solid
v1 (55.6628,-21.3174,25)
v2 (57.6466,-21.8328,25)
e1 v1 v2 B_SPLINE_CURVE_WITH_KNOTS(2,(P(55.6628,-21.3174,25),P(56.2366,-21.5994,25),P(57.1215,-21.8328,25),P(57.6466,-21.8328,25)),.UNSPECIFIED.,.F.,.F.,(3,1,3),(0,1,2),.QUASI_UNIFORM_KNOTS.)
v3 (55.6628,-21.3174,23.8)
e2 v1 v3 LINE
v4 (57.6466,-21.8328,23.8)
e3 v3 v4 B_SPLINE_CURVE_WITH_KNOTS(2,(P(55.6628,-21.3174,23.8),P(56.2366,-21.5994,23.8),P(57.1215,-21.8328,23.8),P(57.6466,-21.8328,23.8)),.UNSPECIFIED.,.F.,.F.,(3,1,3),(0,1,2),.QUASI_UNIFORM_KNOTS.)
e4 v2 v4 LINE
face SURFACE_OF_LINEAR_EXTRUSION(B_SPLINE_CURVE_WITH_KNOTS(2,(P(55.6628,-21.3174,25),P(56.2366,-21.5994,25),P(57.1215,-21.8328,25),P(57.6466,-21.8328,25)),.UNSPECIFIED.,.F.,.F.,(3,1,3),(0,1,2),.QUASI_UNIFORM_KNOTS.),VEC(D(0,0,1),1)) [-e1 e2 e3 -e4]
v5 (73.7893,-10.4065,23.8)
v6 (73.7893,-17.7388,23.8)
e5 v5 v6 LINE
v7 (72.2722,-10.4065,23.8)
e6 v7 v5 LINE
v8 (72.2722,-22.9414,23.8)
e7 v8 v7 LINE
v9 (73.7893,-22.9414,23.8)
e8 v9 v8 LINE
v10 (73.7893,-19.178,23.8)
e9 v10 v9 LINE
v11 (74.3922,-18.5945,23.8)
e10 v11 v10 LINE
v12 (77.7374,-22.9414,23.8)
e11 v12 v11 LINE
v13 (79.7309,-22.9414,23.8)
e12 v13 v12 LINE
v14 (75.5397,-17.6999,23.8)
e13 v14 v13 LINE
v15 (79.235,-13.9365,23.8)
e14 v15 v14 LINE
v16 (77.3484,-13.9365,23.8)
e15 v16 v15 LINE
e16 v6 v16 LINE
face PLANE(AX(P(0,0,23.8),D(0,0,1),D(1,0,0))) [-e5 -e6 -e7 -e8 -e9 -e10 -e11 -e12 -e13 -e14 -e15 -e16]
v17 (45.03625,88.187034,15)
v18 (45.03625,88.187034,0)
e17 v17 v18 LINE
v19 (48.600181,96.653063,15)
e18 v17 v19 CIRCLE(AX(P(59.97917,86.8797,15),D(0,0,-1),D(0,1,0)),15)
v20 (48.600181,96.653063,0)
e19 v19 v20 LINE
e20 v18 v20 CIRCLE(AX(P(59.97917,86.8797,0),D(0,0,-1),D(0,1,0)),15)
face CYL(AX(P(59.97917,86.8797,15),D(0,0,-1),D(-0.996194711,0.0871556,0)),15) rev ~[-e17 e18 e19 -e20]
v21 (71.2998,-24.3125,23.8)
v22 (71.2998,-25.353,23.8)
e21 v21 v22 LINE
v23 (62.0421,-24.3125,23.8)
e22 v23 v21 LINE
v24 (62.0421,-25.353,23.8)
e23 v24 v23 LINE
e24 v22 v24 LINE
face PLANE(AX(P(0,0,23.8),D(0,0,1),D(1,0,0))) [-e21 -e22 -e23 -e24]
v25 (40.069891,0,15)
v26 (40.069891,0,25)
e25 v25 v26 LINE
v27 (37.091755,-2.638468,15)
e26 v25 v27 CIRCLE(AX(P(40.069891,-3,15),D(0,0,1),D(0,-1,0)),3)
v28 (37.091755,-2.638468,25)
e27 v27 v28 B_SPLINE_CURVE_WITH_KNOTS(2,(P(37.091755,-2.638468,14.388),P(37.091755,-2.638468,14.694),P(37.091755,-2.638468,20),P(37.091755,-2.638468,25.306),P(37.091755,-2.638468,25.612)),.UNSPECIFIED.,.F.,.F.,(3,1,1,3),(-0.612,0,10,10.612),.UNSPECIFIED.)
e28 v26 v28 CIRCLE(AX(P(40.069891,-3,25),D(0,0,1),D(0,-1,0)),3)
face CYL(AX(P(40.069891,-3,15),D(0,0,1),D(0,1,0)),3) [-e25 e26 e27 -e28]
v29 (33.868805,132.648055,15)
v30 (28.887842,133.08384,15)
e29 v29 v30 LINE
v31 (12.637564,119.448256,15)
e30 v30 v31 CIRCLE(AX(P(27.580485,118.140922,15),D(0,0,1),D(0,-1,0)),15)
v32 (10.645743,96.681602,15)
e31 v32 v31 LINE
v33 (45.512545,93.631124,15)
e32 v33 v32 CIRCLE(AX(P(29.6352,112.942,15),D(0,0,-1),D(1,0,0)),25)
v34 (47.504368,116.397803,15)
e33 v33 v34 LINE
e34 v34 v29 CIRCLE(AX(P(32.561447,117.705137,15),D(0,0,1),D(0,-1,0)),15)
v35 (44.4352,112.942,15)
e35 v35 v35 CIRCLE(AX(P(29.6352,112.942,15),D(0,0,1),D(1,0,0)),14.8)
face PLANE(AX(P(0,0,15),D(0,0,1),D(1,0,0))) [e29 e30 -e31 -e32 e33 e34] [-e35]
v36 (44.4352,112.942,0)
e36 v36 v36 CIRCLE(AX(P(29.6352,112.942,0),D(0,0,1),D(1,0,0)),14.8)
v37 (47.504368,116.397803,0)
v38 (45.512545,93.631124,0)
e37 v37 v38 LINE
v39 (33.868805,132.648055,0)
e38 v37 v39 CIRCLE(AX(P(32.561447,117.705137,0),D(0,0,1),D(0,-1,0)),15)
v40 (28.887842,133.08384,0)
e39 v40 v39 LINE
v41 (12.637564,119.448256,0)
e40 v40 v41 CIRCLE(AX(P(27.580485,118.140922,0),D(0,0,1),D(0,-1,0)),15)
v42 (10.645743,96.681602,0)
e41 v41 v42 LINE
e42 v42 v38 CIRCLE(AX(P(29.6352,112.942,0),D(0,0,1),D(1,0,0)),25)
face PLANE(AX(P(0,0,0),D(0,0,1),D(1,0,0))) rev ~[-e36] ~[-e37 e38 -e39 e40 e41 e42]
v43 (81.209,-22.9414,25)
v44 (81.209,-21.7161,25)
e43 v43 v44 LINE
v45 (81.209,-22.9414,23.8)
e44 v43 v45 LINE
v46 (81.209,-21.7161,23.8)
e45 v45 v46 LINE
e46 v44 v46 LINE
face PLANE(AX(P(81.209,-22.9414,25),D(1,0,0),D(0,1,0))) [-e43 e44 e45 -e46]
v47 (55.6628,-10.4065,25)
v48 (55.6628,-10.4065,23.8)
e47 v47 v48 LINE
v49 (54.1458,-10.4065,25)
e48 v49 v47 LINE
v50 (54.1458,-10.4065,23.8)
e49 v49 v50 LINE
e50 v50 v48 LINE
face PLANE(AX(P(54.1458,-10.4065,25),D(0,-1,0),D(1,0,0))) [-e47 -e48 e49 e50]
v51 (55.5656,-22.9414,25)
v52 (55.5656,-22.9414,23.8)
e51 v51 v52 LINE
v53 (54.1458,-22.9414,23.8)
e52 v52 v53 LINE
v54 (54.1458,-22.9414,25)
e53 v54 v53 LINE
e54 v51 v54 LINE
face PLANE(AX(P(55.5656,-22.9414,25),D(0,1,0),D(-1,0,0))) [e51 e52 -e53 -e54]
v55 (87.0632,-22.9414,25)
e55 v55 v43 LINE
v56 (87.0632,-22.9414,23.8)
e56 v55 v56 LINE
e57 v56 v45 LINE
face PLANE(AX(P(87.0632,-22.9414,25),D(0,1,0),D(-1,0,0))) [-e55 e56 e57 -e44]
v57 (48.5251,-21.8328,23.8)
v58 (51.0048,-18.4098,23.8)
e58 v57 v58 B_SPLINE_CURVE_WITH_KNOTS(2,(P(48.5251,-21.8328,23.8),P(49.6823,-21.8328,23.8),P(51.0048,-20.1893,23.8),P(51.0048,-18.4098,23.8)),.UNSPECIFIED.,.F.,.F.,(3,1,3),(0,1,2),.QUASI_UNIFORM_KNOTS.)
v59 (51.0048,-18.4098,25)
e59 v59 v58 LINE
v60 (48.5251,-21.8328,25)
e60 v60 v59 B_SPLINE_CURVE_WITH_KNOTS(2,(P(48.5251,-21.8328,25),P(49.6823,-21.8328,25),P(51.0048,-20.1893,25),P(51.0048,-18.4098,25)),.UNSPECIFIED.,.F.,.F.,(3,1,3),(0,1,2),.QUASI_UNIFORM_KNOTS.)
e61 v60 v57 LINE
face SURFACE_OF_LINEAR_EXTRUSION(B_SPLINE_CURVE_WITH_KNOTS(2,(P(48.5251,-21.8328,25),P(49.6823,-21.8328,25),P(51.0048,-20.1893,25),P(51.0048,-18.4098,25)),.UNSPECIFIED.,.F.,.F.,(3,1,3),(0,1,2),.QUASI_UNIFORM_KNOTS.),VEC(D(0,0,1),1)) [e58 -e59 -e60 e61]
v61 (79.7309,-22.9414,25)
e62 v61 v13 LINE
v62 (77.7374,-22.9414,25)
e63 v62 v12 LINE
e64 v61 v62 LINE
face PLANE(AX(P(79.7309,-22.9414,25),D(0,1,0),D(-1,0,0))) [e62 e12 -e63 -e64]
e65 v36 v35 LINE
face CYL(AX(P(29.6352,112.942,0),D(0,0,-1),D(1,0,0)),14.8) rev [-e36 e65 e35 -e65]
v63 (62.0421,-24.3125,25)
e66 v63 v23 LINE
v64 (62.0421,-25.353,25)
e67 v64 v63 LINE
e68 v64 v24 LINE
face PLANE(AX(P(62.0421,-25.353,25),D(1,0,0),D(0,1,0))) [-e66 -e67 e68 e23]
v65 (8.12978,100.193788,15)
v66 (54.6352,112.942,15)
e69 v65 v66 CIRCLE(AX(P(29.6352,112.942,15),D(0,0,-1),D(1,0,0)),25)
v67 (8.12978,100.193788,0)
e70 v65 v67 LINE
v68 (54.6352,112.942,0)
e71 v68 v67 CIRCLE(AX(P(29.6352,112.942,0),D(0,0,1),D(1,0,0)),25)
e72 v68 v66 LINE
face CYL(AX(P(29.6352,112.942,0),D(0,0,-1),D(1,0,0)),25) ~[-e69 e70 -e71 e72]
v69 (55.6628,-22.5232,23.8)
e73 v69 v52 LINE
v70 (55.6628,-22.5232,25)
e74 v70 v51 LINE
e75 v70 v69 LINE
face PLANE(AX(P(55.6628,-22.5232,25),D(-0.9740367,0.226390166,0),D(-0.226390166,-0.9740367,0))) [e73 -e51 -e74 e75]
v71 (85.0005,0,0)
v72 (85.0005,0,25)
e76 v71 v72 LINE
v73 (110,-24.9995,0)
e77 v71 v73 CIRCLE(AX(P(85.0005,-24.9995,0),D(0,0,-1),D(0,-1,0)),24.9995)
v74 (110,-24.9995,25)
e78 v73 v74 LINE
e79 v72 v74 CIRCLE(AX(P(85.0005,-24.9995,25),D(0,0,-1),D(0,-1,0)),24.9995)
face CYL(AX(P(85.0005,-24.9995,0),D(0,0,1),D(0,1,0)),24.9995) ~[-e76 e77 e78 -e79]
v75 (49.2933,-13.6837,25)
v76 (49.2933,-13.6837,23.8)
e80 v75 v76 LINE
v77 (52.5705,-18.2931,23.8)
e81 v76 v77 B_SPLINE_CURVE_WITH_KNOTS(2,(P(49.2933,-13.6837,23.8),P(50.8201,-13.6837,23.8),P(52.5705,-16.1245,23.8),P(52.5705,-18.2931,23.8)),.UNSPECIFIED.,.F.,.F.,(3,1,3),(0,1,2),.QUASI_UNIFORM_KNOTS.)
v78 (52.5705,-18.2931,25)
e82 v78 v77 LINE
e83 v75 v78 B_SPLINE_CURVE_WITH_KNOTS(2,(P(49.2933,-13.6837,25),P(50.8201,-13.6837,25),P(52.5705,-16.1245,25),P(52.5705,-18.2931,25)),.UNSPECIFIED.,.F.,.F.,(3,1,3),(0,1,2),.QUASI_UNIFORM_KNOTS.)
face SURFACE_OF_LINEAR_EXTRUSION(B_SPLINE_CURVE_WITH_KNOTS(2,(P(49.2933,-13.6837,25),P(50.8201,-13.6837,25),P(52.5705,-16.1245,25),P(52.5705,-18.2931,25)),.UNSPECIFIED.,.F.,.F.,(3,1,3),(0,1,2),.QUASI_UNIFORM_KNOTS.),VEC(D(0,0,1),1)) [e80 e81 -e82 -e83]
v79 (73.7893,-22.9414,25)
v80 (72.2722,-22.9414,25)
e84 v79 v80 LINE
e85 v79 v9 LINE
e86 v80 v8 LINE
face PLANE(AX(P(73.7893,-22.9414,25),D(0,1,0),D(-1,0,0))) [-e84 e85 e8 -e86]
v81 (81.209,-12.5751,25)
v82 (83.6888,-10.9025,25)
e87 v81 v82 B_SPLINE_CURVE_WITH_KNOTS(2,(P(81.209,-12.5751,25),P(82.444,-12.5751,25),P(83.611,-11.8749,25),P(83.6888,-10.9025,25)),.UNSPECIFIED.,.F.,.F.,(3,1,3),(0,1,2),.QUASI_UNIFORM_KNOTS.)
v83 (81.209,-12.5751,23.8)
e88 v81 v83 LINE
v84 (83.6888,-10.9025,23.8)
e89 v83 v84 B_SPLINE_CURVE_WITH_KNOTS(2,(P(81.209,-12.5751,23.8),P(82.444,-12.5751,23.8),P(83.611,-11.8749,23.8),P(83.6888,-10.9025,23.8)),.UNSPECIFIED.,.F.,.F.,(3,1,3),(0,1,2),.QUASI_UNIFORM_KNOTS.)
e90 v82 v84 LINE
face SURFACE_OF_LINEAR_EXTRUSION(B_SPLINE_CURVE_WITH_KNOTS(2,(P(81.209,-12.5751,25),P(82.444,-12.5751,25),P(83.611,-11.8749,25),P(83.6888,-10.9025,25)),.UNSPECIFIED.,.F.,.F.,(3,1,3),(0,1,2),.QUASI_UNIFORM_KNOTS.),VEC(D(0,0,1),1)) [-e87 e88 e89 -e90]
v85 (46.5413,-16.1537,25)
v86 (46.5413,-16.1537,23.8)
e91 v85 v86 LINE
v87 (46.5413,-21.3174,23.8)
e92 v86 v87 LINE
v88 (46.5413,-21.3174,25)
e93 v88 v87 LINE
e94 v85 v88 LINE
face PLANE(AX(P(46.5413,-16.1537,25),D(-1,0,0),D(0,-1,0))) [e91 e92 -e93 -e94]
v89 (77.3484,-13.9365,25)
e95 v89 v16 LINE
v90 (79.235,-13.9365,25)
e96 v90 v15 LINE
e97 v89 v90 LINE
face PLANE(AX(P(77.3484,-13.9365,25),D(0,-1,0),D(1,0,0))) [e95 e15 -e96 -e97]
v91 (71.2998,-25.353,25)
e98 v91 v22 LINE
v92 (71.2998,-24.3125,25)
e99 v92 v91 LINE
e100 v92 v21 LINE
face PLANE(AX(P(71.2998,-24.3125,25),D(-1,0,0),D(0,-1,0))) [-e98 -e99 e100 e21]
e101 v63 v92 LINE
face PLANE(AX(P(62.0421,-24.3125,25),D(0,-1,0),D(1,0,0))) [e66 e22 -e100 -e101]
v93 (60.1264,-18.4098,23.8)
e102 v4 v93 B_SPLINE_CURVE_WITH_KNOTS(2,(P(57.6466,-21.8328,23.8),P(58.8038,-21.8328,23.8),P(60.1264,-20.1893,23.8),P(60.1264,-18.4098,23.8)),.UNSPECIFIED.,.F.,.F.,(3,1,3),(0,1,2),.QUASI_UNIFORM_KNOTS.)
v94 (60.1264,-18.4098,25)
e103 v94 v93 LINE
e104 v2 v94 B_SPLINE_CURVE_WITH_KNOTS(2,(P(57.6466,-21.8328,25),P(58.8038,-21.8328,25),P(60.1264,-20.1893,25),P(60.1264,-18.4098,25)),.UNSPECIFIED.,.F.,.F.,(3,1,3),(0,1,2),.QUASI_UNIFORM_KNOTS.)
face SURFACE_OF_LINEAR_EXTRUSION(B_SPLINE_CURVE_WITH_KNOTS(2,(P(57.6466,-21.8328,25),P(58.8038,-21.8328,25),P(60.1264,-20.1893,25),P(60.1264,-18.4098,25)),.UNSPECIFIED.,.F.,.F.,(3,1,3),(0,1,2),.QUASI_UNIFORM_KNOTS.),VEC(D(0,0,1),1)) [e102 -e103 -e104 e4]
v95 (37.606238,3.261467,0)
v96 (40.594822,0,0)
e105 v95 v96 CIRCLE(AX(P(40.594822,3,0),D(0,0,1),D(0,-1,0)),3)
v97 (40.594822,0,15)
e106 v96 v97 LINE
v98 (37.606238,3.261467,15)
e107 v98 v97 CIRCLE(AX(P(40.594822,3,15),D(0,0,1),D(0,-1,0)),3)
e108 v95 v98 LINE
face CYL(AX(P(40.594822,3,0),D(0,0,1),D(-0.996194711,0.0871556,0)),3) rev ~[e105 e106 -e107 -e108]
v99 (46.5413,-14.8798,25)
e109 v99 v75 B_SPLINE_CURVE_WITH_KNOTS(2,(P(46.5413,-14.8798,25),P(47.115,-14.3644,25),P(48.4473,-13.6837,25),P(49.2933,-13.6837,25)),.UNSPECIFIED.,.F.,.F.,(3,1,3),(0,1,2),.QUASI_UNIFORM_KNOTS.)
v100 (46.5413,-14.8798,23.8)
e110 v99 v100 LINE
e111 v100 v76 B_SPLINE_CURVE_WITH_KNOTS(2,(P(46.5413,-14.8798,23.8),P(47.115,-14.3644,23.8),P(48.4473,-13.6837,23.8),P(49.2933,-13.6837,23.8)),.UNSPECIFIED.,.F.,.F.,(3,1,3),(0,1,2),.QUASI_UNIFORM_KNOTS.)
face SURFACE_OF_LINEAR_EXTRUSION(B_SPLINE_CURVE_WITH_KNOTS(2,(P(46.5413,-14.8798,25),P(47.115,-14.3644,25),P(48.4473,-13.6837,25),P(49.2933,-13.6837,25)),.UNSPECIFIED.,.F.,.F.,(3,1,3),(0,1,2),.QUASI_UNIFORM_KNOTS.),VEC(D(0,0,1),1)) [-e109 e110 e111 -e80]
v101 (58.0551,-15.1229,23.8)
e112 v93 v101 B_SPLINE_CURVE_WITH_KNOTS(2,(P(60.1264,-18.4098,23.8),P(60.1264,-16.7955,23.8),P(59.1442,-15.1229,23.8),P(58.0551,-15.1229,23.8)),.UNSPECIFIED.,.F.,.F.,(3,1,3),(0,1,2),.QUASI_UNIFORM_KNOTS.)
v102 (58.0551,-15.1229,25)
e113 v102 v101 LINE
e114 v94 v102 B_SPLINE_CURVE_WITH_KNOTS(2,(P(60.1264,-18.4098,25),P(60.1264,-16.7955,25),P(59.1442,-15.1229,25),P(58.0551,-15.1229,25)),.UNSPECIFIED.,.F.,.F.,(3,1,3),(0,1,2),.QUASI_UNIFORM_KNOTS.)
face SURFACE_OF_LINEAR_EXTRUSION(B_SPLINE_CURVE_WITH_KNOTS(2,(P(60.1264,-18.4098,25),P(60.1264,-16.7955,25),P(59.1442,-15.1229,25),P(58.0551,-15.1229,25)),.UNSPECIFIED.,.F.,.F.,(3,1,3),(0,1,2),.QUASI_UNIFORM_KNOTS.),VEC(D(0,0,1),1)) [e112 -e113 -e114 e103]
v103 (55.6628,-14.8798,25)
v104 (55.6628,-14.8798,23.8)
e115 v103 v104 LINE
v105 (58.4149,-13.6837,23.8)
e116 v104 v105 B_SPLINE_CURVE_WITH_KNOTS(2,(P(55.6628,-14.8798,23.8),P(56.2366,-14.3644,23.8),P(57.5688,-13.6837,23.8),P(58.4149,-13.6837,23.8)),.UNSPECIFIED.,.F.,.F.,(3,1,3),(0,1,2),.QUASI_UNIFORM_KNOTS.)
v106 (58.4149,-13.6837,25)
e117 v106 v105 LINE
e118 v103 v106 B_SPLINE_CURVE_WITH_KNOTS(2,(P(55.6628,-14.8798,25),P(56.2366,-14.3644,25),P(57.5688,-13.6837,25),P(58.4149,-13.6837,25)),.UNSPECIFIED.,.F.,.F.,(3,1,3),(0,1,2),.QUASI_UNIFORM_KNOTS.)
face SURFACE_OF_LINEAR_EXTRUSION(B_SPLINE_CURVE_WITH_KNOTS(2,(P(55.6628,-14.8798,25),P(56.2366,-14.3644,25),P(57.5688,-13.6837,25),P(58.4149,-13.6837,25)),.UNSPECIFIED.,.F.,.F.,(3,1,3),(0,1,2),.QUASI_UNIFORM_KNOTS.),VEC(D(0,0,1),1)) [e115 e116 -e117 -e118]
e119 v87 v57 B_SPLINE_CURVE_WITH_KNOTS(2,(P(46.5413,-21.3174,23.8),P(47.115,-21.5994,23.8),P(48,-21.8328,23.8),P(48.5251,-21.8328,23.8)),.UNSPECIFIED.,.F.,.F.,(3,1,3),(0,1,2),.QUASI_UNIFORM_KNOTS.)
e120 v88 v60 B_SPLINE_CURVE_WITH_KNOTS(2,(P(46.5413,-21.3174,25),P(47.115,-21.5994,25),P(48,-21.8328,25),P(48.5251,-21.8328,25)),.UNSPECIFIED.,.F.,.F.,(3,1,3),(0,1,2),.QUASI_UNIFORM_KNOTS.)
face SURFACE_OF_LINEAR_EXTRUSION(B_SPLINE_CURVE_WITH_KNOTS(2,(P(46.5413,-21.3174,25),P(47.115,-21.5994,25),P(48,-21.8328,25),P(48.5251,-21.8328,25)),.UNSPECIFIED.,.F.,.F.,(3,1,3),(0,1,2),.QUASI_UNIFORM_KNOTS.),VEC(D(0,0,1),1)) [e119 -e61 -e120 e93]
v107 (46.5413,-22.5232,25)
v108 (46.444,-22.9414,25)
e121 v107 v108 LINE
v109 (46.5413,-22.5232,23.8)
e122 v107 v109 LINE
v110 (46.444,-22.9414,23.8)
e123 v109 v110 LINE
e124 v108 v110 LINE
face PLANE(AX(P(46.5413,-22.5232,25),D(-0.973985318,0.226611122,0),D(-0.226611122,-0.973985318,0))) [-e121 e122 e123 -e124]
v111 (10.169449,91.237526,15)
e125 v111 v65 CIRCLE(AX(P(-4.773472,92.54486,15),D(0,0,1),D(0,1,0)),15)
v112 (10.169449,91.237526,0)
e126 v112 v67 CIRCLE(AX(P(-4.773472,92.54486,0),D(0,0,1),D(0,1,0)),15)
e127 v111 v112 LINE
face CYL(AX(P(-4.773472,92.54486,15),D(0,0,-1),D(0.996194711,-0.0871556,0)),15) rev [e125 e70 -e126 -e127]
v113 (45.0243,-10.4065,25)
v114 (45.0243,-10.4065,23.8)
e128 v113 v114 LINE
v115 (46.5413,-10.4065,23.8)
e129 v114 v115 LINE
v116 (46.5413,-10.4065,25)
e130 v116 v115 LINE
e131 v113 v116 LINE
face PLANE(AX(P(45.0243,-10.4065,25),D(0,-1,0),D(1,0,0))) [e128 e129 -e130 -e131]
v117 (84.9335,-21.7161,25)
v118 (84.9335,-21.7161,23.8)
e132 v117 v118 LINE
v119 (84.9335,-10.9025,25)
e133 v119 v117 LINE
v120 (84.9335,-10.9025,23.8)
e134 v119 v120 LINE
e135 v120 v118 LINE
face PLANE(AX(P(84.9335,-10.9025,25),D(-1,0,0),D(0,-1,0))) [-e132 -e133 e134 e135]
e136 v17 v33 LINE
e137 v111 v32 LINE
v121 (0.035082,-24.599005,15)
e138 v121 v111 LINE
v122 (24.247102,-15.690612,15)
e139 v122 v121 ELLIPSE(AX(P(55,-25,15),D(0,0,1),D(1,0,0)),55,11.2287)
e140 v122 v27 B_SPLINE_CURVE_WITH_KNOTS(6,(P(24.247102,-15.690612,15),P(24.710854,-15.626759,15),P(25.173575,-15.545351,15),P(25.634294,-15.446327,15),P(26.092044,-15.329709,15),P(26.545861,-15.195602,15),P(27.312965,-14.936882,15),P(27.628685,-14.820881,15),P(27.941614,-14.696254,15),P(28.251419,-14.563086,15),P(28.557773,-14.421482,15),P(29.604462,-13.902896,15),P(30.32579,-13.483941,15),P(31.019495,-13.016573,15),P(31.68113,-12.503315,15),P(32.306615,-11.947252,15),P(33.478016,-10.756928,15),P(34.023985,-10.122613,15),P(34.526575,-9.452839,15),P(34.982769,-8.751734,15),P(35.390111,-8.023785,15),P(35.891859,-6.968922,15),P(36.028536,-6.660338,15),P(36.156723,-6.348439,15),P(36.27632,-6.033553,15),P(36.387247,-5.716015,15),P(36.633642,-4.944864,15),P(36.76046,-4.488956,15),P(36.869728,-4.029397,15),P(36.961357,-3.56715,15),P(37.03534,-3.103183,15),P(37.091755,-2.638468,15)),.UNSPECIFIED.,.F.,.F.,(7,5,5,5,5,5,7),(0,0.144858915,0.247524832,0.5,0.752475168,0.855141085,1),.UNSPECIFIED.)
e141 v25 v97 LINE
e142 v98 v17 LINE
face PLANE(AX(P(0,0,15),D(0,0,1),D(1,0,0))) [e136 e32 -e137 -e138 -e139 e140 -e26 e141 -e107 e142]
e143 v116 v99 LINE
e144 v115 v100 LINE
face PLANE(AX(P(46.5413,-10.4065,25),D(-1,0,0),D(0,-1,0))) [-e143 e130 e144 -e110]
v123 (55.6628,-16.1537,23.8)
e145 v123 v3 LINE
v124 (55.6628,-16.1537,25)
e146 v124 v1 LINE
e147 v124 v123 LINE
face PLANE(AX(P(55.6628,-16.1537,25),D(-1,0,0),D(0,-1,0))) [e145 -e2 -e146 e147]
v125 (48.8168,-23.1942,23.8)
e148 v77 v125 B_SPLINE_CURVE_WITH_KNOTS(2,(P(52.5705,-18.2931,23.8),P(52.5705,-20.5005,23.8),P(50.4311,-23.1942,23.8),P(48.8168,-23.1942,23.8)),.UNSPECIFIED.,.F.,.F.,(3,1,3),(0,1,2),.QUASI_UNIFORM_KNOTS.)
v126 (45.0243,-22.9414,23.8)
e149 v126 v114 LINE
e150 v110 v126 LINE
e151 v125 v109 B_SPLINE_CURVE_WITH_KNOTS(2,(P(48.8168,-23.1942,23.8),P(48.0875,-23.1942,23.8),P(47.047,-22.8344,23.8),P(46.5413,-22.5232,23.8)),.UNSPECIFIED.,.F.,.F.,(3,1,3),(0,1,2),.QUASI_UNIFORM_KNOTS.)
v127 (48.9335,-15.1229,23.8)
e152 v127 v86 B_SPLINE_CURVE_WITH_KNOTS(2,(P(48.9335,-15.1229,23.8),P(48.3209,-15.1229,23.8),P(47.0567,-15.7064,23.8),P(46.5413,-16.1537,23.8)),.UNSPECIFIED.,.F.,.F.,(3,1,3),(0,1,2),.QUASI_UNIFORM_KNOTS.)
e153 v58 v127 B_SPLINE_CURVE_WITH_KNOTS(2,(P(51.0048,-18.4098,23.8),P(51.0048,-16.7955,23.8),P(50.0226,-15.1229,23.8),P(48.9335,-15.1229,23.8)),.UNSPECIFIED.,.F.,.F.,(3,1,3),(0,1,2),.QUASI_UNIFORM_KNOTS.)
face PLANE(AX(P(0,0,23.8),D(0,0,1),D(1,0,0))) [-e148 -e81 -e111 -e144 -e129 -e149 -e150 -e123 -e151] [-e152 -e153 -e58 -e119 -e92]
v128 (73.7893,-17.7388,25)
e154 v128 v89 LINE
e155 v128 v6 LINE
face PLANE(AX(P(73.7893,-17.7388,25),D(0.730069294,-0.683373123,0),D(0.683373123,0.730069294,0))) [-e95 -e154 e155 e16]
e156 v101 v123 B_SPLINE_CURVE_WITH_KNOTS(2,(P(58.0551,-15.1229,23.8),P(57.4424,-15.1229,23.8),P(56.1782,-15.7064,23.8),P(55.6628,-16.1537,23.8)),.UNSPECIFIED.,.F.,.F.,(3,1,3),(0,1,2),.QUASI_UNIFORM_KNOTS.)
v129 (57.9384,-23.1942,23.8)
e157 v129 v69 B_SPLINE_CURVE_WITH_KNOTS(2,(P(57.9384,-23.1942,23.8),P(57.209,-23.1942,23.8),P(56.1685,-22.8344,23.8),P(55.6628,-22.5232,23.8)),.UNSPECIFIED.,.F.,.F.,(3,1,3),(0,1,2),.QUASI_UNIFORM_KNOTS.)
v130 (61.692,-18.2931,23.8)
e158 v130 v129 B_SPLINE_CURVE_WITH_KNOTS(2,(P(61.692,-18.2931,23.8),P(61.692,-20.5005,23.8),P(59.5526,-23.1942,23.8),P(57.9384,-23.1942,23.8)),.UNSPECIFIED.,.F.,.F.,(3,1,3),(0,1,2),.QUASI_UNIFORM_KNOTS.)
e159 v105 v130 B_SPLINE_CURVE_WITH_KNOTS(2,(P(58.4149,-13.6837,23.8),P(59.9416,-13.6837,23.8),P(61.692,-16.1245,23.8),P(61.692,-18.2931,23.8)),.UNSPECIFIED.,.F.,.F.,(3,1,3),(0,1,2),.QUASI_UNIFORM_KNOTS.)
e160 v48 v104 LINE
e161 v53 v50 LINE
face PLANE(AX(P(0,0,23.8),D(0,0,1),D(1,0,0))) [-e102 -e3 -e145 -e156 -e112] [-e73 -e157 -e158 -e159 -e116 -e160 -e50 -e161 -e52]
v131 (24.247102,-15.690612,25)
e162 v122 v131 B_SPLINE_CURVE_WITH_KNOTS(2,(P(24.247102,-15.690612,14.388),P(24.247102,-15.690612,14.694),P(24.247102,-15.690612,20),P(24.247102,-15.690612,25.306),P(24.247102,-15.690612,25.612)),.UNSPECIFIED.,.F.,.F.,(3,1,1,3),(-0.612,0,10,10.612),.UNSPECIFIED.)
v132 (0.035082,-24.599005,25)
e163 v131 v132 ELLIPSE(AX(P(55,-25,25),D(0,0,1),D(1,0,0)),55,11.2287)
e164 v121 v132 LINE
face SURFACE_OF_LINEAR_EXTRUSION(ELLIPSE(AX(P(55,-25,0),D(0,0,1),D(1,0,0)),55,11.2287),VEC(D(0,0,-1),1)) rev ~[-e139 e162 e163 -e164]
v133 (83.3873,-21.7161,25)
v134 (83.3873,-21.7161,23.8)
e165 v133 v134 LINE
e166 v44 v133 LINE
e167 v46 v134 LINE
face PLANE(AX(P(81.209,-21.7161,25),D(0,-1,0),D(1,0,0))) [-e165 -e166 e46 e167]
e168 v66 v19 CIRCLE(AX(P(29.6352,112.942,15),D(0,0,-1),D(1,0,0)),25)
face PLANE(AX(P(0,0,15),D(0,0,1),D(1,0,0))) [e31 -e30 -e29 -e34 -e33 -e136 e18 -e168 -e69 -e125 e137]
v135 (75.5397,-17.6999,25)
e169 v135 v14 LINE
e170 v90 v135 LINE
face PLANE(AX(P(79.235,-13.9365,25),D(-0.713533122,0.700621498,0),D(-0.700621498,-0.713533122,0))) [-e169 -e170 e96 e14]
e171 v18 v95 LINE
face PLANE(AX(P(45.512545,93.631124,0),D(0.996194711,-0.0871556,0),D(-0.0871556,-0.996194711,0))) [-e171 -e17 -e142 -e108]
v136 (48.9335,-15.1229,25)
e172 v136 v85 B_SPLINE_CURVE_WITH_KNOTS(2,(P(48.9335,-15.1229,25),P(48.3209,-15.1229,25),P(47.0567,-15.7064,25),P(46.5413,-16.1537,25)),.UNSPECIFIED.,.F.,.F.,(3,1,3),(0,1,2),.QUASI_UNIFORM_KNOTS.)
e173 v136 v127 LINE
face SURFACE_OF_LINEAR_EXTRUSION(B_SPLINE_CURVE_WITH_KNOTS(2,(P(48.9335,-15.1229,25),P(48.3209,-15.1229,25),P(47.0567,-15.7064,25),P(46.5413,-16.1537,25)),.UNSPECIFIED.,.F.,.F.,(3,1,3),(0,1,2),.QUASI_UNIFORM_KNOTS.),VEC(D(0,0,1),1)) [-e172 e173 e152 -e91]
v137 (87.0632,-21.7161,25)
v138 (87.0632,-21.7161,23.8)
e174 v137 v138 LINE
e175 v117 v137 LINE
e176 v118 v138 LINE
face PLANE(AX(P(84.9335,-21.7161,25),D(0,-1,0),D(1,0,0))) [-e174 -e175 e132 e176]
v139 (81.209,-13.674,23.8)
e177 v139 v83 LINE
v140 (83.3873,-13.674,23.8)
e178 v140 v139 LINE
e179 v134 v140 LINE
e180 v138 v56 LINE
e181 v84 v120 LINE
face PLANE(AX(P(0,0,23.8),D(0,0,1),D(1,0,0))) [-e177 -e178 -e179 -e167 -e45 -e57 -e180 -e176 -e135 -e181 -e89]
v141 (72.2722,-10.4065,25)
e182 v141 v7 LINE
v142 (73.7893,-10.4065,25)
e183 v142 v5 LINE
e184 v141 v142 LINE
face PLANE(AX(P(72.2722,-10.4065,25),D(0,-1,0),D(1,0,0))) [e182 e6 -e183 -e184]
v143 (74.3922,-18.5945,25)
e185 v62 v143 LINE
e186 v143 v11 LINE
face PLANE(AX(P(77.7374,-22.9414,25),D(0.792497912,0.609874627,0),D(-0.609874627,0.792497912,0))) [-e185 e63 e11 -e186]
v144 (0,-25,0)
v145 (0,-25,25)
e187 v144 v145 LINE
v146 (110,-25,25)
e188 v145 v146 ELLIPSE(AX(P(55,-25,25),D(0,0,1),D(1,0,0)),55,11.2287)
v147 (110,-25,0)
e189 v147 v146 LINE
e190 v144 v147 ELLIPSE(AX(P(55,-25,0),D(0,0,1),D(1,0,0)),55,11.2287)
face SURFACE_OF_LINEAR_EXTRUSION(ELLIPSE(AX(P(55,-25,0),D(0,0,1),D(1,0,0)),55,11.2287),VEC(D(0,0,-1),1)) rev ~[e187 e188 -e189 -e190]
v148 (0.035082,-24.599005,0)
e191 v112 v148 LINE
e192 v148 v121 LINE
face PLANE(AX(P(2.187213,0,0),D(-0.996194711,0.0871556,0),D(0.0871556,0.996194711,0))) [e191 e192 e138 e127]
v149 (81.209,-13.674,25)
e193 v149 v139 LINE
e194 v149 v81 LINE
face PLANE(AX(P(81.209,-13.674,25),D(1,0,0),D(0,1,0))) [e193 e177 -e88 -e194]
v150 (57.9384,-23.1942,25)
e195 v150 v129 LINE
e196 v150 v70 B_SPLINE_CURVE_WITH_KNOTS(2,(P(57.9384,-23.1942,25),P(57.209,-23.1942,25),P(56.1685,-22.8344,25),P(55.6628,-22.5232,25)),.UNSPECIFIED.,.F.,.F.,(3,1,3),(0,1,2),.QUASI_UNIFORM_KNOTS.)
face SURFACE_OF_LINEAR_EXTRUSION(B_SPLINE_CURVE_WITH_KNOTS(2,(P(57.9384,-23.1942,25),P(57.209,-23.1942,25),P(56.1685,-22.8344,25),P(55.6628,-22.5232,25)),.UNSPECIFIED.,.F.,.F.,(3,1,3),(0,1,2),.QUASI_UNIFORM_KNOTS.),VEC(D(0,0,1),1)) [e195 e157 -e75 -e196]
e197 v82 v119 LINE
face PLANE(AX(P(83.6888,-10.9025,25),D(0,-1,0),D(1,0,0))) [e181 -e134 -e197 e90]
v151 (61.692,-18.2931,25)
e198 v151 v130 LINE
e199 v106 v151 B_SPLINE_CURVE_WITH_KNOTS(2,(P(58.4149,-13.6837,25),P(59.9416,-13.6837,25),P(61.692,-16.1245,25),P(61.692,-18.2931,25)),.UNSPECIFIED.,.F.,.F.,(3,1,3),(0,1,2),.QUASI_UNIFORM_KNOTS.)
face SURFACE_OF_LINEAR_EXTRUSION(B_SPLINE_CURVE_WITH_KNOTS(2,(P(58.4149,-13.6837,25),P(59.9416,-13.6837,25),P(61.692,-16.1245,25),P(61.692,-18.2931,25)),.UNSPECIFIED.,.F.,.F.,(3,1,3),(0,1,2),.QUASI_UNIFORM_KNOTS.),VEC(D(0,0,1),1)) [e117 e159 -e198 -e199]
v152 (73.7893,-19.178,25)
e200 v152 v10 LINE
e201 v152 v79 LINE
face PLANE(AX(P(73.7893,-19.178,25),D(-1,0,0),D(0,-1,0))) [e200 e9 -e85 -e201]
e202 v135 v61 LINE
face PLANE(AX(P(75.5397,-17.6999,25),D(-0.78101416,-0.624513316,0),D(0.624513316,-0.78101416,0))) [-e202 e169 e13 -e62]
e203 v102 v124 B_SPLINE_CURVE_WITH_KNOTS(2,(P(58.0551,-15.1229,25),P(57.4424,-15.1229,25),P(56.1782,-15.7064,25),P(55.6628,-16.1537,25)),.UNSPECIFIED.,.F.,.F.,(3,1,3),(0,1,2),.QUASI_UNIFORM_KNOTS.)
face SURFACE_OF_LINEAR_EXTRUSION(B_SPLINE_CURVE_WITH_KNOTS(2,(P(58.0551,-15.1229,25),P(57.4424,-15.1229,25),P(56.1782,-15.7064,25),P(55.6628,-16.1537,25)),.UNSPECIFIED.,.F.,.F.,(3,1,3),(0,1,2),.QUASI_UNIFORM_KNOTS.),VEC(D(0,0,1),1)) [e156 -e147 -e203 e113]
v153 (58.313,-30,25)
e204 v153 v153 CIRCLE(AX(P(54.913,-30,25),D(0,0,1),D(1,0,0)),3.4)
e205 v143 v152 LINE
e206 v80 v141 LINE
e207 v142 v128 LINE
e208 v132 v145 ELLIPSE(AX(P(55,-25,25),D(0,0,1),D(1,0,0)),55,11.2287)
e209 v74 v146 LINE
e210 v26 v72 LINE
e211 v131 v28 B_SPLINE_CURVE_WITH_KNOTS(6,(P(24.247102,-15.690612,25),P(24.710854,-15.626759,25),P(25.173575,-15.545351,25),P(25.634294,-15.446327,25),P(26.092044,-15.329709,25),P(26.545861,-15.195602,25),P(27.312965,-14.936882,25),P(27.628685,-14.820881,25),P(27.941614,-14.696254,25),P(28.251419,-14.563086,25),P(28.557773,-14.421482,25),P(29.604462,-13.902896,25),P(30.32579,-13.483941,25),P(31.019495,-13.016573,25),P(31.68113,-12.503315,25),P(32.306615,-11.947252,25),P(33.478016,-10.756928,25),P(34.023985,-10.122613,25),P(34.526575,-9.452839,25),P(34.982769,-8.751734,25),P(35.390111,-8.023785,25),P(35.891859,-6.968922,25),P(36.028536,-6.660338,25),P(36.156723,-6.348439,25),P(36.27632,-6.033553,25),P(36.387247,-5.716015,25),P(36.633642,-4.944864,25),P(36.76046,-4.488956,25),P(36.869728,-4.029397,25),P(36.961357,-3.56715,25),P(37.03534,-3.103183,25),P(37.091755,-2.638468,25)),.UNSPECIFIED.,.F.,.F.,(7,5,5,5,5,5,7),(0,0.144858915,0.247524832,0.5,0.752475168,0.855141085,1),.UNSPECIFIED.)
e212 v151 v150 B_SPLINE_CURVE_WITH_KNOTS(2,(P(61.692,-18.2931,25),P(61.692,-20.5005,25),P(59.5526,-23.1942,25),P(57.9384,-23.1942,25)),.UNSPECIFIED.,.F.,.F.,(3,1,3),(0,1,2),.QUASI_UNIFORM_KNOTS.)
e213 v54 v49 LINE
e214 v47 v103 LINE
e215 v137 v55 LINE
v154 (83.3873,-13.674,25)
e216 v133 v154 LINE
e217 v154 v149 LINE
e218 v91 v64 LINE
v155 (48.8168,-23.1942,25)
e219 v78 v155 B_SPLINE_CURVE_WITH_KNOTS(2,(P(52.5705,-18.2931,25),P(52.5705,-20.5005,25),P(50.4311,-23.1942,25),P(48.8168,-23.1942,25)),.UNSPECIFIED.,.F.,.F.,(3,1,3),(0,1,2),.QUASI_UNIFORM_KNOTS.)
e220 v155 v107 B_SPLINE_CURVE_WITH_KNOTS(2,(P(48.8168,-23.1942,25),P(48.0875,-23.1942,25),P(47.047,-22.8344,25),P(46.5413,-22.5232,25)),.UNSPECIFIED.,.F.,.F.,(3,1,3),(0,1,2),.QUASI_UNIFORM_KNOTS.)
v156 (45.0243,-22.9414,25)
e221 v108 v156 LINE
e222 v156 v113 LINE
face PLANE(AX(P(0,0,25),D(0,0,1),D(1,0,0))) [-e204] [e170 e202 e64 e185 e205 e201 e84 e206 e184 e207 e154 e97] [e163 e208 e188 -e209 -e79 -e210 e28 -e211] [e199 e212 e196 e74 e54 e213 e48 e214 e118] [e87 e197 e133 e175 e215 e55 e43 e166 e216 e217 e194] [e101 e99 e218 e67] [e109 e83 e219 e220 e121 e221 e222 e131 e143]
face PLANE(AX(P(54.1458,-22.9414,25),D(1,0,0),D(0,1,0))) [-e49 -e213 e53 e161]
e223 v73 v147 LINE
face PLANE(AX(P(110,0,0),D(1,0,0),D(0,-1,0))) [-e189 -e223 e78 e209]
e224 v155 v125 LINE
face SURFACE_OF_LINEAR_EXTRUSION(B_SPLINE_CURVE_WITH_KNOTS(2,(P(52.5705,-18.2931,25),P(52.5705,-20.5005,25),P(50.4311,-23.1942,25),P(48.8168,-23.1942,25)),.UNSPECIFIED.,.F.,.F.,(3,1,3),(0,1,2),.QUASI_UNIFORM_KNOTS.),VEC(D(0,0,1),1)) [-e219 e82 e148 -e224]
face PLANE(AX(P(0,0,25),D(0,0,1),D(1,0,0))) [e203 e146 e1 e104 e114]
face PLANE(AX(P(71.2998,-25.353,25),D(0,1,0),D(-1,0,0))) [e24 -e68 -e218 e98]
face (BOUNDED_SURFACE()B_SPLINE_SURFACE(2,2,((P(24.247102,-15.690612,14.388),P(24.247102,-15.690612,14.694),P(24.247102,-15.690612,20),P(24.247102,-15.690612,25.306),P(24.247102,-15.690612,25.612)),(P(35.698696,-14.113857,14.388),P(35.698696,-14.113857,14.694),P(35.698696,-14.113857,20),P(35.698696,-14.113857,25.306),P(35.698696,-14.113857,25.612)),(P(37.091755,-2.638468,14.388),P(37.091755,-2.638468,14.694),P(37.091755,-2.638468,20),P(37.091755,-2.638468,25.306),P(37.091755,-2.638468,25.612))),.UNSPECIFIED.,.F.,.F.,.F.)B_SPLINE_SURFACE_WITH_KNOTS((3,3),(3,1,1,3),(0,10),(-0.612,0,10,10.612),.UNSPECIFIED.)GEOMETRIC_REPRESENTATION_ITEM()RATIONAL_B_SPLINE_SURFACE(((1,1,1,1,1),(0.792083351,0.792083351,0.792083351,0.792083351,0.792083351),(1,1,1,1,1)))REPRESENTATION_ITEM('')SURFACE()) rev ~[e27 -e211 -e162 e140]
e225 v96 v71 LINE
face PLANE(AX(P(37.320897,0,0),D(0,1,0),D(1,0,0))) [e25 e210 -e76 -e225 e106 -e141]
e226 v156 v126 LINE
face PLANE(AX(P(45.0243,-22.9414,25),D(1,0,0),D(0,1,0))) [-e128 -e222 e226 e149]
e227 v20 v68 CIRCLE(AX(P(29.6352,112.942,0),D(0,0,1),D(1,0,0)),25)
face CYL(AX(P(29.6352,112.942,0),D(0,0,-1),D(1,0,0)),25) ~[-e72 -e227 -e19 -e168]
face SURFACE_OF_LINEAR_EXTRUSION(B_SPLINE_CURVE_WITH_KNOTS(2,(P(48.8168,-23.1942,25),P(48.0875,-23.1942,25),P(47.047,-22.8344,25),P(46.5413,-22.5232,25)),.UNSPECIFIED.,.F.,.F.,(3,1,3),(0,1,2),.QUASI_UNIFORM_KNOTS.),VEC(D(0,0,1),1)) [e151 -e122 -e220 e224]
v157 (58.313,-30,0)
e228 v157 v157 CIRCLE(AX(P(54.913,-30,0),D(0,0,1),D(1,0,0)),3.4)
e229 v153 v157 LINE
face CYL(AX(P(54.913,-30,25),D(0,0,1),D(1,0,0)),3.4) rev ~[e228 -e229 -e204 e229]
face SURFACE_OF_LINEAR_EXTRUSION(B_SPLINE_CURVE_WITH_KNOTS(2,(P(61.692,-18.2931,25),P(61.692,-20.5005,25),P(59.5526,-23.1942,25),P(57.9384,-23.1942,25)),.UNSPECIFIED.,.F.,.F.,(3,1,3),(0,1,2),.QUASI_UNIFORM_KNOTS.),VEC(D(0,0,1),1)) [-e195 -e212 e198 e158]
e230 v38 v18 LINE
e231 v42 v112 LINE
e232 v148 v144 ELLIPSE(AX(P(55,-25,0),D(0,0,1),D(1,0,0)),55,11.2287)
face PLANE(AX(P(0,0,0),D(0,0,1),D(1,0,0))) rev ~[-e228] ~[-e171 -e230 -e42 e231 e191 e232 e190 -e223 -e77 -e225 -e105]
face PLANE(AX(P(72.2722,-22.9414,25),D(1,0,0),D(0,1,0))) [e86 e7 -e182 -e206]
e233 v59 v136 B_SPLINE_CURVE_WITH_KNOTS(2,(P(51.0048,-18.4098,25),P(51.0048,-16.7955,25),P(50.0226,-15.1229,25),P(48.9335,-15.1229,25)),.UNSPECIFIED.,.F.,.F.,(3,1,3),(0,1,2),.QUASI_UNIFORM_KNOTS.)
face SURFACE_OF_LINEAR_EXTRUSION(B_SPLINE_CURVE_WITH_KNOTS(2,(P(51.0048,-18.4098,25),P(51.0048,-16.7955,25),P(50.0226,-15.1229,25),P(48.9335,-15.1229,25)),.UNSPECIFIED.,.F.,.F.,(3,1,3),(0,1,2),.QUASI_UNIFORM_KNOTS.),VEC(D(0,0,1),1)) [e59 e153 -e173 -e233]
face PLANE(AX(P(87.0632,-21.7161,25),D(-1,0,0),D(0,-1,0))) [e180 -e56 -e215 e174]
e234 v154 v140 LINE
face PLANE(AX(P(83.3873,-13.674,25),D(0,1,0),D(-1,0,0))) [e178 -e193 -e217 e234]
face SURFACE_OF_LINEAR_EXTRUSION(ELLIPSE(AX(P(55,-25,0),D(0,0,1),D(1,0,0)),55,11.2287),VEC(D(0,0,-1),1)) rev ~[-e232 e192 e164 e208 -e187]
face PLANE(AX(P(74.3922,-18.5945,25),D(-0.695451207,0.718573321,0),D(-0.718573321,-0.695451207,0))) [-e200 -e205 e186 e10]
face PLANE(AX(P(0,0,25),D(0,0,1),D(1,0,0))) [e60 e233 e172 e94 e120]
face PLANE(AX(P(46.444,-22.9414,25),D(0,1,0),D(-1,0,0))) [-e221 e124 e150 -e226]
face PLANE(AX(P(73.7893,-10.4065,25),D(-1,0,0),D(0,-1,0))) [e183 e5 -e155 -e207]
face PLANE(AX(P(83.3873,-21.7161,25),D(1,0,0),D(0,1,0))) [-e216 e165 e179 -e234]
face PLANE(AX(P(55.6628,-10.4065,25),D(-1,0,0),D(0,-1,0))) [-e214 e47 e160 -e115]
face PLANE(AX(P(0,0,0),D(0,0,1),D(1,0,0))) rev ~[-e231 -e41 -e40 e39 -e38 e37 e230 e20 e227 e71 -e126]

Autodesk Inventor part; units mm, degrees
ref_plane "YZ Plane" through (0, 0, 0) normal (1, 0, 0) x (0, 1, 0)
ref_plane "XZ Plane" through (0, 0, 0) normal (0, 1, 0) x (-1, 0, 0)
ref_plane "XY Plane" through (0, 0, 0) normal (0, 0, 1) x (1, 0, 0)
sketch "スケッチ1" plane through (0, 0, 0) normal (0, 0, 1) x (1, 0, 0)
  point P0 (0, 0)
sketch "スケッチ2" plane through (0, 0, 0) normal (0, 0, 1) x (1, 0, 0)
  line L0 (0, 0) -> (110, 0)
  line L1 (110, 0) -> (110, -25)
  line L2 (110, -25) -> (0, -25)
  line L3 (0, -25) -> (0, 0)
  ellipse E0 centre (55, -25) end of major axis (110, -25) minor radius 11.2287
  line L4 (0, -25) -> (13.9449, 134.3912)
  line L5 (13.9449, 134.3912) -> (48.8117, 131.3407)
  line L6 (48.8117, 131.3407) -> (34.8668, -28.0505)
  line L7 (34.8668, -28.0505) -> (0, -25)
  circle A0 centre (29.6352, 112.942) radius 14.8
  circle A1 centre (29.6352, 112.942) radius 25
  point P0 (0.0351, -24.599)
  point P1 (36.056, -14.4584)
  point P2 (37.3209, 0)
  dimension "d0" = 110
  dimension "d1" = 25
  dimension "d2" = 35
  dimension "d4" = 160
  dimension "d5" = 5
  dimension "d6" = 29.6
  dimension "d7" = 17.5
  dimension "d18" = 20
  dimension "d23" = 50
extrude "押し出し1" add sketch "スケッチ2" along normal blind 15 contours L4 A1 L6 L0 | L0 L6 E0 L4 | L4 A1 L5 L6 | L4 L5 A1 | A1 L5 L6
extrude "押し出し2" add sketch "スケッチ2" along normal blind 25 contours L4 E0 L6 L2 | L7 L6 L2 E0 | E0 L4 | L2 L6 L7 | L0 L1 E0 L6 | L6 E0 L2
fillet "フィレット1" radius 3 2 edges at (37.3209, 0, 20) (37.3209, 0, 7.5)
fillet "フィレット2" radius 25 1 edges at (110, 0, 12.5)
fillet "フィレット3" radius 15 2 edges at (48.8117, 131.3407, 7.5) (13.9449, 134.3912, 7.5)
fillet "フィレット4" radius 15 1 edges at (36.056, -14.4584, 20)
sketch "スケッチ3" plane through (0, 0, 25) normal (0, 0, 1) x (1, 0, 0)
  line L0 (43.9254, -10.4065) -> (55.2208, -10.4065) construction
  line L1 (55.2208, -10.4065) -> (55.2208, -14.2029) construction
  line L2 (55.2208, -14.2029) -> (43.9254, -14.2029) construction
  line L3 (43.9254, -14.2029) -> (43.9254, -10.4065) construction
  spline S0 degree 2 poles (52.5705, -18.2931) (52.5705, -20.5005) (50.4311, -23.1942) (48.8168, -23.1942) knots 0 0 0 1 2 2 2
  spline S1 degree 2 poles (48.8168, -23.1942) (48.0875, -23.1942) (47.047, -22.8344) (46.5413, -22.5232) knots 0 0 0 1 2 2 2
  line L4 (46.5413, -22.5232) -> (46.444, -22.9414)
  line L5 (46.444, -22.9414) -> (45.0243, -22.9414)
  line L6 (45.0243, -22.9414) -> (45.0243, -10.4065)
  line L7 (45.0243, -10.4065) -> (46.5413, -10.4065)
  line L8 (46.5413, -10.4065) -> (46.5413, -14.8798)
  spline S2 degree 2 poles (46.5413, -14.8798) (47.115, -14.3644) (48.4473, -13.6837) (49.2933, -13.6837) knots 0 0 0 1 2 2 2
  spline S3 degree 2 poles (49.2933, -13.6837) (50.8201, -13.6837) (52.5705, -16.1245) (52.5705, -18.2931) knots 0 0 0 1 2 2 2
  spline S4 degree 2 poles (51.0048, -18.4098) (51.0048, -16.7955) (50.0226, -15.1229) (48.9335, -15.1229) knots 0 0 0 1 2 2 2
  spline S5 degree 2 poles (48.9335, -15.1229) (48.3209, -15.1229) (47.0567, -15.7064) (46.5413, -16.1537) knots 0 0 0 1 2 2 2
  line L9 (46.5413, -16.1537) -> (46.5413, -21.3174)
  spline S6 degree 2 poles (46.5413, -21.3174) (47.115, -21.5994) (48, -21.8328) (48.5251, -21.8328) knots 0 0 0 1 2 2 2
  spline S7 degree 2 poles (48.5251, -21.8328) (49.6823, -21.8328) (51.0048, -20.1893) (51.0048, -18.4098) knots 0 0 0 1 2 2 2
  spline S8 degree 2 poles (61.692, -18.2931) (61.692, -20.5005) (59.5526, -23.1942) (57.9384, -23.1942) knots 0 0 0 1 2 2 2
  spline S9 degree 2 poles (57.9384, -23.1942) (57.209, -23.1942) (56.1685, -22.8344) (55.6628, -22.5232) knots 0 0 0 1 2 2 2
  line L10 (55.6628, -22.5232) -> (55.5656, -22.9414)
  line L11 (55.5656, -22.9414) -> (54.1458, -22.9414)
  line L12 (54.1458, -22.9414) -> (54.1458, -10.4065)
  line L13 (54.1458, -10.4065) -> (55.6628, -10.4065)
  line L14 (55.6628, -10.4065) -> (55.6628, -14.8798)
  spline S10 degree 2 poles (55.6628, -14.8798) (56.2366, -14.3644) (57.5688, -13.6837) (58.4149, -13.6837) knots 0 0 0 1 2 2 2
  spline S11 degree 2 poles (58.4149, -13.6837) (59.9416, -13.6837) (61.692, -16.1245) (61.692, -18.2931) knots 0 0 0 1 2 2 2
  spline S12 degree 2 poles (60.1264, -18.4098) (60.1264, -16.7955) (59.1442, -15.1229) (58.0551, -15.1229) knots 0 0 0 1 2 2 2
  spline S13 degree 2 poles (58.0551, -15.1229) (57.4424, -15.1229) (56.1782, -15.7064) (55.6628, -16.1537) knots 0 0 0 1 2 2 2
  line L15 (55.6628, -16.1537) -> (55.6628, -21.3174)
  spline S14 degree 2 poles (55.6628, -21.3174) (56.2366, -21.5994) (57.1215, -21.8328) (57.6466, -21.8328) knots 0 0 0 1 2 2 2
  spline S15 degree 2 poles (57.6466, -21.8328) (58.8038, -21.8328) (60.1264, -20.1893) (60.1264, -18.4098) knots 0 0 0 1 2 2 2
  line L16 (71.2998, -25.353) -> (62.0421, -25.353)
  line L17 (62.0421, -25.353) -> (62.0421, -24.3125)
  line L18 (62.0421, -24.3125) -> (71.2998, -24.3125)
  line L19 (71.2998, -24.3125) -> (71.2998, -25.353)
  line L20 (79.7309, -22.9414) -> (77.7374, -22.9414)
  line L21 (77.7374, -22.9414) -> (74.3922, -18.5945)
  line L22 (74.3922, -18.5945) -> (73.7893, -19.178)
  line L23 (73.7893, -19.178) -> (73.7893, -22.9414)
  line L24 (73.7893, -22.9414) -> (72.2722, -22.9414)
  line L25 (72.2722, -22.9414) -> (72.2722, -10.4065)
  line L26 (72.2722, -10.4065) -> (73.7893, -10.4065)
  line L27 (73.7893, -10.4065) -> (73.7893, -17.7388)
  line L28 (73.7893, -17.7388) -> (77.3484, -13.9365)
  line L29 (77.3484, -13.9365) -> (79.235, -13.9365)
  line L30 (79.235, -13.9365) -> (75.5397, -17.6999)
  line L31 (75.5397, -17.6999) -> (79.7309, -22.9414)
  line L32 (87.0632, -22.9414) -> (81.209, -22.9414)
  line L33 (81.209, -22.9414) -> (81.209, -21.7161)
  line L34 (81.209, -21.7161) -> (83.3873, -21.7161)
  line L35 (83.3873, -21.7161) -> (83.3873, -13.674)
  line L36 (83.3873, -13.674) -> (81.209, -13.674)
  line L37 (81.209, -13.674) -> (81.209, -12.5751)
  spline S16 degree 2 poles (81.209, -12.5751) (82.444, -12.5751) (83.611, -11.8749) (83.6888, -10.9025) knots 0 0 0 1 2 2 2
  line L38 (83.6888, -10.9025) -> (84.9335, -10.9025)
  line L39 (84.9335, -10.9025) -> (84.9335, -21.7161)
  line L40 (84.9335, -21.7161) -> (87.0632, -21.7161)
  line L41 (87.0632, -21.7161) -> (87.0632, -22.9414)
  point P0 (0, 0)
extrude "押し出し3" cut sketch "スケッチ3" against normal blind 1.2
sketch "スケッチ4" plane through (0, 0, 25) normal (0, 0, 1) x (1, 0, 0)
  circle A0 centre (54.913, -30) radius 3.4
  line L0 (85, 0) -> (40.0699, 0) projected
  point P0 (0, 0)
  dimension "d19" = 6.8
  dimension "d22" = 30
extrude "押し出し4" cut sketch "スケッチ4" against normal blind 40
extrude "押し出し5" add sketch "スケッチ2" along normal blind 15 contours A1 L4 | L4 A1 L5 L6 | L6 A1 | A1 L5
fillet "フィレット5" radius 15 2 edges at (45.5126, 93.6312, 7.5) (10.6458, 96.6816, 7.5)
equation "\"d7\" = 0.5 * d2"
properties part number "passive_walking_robot1"
